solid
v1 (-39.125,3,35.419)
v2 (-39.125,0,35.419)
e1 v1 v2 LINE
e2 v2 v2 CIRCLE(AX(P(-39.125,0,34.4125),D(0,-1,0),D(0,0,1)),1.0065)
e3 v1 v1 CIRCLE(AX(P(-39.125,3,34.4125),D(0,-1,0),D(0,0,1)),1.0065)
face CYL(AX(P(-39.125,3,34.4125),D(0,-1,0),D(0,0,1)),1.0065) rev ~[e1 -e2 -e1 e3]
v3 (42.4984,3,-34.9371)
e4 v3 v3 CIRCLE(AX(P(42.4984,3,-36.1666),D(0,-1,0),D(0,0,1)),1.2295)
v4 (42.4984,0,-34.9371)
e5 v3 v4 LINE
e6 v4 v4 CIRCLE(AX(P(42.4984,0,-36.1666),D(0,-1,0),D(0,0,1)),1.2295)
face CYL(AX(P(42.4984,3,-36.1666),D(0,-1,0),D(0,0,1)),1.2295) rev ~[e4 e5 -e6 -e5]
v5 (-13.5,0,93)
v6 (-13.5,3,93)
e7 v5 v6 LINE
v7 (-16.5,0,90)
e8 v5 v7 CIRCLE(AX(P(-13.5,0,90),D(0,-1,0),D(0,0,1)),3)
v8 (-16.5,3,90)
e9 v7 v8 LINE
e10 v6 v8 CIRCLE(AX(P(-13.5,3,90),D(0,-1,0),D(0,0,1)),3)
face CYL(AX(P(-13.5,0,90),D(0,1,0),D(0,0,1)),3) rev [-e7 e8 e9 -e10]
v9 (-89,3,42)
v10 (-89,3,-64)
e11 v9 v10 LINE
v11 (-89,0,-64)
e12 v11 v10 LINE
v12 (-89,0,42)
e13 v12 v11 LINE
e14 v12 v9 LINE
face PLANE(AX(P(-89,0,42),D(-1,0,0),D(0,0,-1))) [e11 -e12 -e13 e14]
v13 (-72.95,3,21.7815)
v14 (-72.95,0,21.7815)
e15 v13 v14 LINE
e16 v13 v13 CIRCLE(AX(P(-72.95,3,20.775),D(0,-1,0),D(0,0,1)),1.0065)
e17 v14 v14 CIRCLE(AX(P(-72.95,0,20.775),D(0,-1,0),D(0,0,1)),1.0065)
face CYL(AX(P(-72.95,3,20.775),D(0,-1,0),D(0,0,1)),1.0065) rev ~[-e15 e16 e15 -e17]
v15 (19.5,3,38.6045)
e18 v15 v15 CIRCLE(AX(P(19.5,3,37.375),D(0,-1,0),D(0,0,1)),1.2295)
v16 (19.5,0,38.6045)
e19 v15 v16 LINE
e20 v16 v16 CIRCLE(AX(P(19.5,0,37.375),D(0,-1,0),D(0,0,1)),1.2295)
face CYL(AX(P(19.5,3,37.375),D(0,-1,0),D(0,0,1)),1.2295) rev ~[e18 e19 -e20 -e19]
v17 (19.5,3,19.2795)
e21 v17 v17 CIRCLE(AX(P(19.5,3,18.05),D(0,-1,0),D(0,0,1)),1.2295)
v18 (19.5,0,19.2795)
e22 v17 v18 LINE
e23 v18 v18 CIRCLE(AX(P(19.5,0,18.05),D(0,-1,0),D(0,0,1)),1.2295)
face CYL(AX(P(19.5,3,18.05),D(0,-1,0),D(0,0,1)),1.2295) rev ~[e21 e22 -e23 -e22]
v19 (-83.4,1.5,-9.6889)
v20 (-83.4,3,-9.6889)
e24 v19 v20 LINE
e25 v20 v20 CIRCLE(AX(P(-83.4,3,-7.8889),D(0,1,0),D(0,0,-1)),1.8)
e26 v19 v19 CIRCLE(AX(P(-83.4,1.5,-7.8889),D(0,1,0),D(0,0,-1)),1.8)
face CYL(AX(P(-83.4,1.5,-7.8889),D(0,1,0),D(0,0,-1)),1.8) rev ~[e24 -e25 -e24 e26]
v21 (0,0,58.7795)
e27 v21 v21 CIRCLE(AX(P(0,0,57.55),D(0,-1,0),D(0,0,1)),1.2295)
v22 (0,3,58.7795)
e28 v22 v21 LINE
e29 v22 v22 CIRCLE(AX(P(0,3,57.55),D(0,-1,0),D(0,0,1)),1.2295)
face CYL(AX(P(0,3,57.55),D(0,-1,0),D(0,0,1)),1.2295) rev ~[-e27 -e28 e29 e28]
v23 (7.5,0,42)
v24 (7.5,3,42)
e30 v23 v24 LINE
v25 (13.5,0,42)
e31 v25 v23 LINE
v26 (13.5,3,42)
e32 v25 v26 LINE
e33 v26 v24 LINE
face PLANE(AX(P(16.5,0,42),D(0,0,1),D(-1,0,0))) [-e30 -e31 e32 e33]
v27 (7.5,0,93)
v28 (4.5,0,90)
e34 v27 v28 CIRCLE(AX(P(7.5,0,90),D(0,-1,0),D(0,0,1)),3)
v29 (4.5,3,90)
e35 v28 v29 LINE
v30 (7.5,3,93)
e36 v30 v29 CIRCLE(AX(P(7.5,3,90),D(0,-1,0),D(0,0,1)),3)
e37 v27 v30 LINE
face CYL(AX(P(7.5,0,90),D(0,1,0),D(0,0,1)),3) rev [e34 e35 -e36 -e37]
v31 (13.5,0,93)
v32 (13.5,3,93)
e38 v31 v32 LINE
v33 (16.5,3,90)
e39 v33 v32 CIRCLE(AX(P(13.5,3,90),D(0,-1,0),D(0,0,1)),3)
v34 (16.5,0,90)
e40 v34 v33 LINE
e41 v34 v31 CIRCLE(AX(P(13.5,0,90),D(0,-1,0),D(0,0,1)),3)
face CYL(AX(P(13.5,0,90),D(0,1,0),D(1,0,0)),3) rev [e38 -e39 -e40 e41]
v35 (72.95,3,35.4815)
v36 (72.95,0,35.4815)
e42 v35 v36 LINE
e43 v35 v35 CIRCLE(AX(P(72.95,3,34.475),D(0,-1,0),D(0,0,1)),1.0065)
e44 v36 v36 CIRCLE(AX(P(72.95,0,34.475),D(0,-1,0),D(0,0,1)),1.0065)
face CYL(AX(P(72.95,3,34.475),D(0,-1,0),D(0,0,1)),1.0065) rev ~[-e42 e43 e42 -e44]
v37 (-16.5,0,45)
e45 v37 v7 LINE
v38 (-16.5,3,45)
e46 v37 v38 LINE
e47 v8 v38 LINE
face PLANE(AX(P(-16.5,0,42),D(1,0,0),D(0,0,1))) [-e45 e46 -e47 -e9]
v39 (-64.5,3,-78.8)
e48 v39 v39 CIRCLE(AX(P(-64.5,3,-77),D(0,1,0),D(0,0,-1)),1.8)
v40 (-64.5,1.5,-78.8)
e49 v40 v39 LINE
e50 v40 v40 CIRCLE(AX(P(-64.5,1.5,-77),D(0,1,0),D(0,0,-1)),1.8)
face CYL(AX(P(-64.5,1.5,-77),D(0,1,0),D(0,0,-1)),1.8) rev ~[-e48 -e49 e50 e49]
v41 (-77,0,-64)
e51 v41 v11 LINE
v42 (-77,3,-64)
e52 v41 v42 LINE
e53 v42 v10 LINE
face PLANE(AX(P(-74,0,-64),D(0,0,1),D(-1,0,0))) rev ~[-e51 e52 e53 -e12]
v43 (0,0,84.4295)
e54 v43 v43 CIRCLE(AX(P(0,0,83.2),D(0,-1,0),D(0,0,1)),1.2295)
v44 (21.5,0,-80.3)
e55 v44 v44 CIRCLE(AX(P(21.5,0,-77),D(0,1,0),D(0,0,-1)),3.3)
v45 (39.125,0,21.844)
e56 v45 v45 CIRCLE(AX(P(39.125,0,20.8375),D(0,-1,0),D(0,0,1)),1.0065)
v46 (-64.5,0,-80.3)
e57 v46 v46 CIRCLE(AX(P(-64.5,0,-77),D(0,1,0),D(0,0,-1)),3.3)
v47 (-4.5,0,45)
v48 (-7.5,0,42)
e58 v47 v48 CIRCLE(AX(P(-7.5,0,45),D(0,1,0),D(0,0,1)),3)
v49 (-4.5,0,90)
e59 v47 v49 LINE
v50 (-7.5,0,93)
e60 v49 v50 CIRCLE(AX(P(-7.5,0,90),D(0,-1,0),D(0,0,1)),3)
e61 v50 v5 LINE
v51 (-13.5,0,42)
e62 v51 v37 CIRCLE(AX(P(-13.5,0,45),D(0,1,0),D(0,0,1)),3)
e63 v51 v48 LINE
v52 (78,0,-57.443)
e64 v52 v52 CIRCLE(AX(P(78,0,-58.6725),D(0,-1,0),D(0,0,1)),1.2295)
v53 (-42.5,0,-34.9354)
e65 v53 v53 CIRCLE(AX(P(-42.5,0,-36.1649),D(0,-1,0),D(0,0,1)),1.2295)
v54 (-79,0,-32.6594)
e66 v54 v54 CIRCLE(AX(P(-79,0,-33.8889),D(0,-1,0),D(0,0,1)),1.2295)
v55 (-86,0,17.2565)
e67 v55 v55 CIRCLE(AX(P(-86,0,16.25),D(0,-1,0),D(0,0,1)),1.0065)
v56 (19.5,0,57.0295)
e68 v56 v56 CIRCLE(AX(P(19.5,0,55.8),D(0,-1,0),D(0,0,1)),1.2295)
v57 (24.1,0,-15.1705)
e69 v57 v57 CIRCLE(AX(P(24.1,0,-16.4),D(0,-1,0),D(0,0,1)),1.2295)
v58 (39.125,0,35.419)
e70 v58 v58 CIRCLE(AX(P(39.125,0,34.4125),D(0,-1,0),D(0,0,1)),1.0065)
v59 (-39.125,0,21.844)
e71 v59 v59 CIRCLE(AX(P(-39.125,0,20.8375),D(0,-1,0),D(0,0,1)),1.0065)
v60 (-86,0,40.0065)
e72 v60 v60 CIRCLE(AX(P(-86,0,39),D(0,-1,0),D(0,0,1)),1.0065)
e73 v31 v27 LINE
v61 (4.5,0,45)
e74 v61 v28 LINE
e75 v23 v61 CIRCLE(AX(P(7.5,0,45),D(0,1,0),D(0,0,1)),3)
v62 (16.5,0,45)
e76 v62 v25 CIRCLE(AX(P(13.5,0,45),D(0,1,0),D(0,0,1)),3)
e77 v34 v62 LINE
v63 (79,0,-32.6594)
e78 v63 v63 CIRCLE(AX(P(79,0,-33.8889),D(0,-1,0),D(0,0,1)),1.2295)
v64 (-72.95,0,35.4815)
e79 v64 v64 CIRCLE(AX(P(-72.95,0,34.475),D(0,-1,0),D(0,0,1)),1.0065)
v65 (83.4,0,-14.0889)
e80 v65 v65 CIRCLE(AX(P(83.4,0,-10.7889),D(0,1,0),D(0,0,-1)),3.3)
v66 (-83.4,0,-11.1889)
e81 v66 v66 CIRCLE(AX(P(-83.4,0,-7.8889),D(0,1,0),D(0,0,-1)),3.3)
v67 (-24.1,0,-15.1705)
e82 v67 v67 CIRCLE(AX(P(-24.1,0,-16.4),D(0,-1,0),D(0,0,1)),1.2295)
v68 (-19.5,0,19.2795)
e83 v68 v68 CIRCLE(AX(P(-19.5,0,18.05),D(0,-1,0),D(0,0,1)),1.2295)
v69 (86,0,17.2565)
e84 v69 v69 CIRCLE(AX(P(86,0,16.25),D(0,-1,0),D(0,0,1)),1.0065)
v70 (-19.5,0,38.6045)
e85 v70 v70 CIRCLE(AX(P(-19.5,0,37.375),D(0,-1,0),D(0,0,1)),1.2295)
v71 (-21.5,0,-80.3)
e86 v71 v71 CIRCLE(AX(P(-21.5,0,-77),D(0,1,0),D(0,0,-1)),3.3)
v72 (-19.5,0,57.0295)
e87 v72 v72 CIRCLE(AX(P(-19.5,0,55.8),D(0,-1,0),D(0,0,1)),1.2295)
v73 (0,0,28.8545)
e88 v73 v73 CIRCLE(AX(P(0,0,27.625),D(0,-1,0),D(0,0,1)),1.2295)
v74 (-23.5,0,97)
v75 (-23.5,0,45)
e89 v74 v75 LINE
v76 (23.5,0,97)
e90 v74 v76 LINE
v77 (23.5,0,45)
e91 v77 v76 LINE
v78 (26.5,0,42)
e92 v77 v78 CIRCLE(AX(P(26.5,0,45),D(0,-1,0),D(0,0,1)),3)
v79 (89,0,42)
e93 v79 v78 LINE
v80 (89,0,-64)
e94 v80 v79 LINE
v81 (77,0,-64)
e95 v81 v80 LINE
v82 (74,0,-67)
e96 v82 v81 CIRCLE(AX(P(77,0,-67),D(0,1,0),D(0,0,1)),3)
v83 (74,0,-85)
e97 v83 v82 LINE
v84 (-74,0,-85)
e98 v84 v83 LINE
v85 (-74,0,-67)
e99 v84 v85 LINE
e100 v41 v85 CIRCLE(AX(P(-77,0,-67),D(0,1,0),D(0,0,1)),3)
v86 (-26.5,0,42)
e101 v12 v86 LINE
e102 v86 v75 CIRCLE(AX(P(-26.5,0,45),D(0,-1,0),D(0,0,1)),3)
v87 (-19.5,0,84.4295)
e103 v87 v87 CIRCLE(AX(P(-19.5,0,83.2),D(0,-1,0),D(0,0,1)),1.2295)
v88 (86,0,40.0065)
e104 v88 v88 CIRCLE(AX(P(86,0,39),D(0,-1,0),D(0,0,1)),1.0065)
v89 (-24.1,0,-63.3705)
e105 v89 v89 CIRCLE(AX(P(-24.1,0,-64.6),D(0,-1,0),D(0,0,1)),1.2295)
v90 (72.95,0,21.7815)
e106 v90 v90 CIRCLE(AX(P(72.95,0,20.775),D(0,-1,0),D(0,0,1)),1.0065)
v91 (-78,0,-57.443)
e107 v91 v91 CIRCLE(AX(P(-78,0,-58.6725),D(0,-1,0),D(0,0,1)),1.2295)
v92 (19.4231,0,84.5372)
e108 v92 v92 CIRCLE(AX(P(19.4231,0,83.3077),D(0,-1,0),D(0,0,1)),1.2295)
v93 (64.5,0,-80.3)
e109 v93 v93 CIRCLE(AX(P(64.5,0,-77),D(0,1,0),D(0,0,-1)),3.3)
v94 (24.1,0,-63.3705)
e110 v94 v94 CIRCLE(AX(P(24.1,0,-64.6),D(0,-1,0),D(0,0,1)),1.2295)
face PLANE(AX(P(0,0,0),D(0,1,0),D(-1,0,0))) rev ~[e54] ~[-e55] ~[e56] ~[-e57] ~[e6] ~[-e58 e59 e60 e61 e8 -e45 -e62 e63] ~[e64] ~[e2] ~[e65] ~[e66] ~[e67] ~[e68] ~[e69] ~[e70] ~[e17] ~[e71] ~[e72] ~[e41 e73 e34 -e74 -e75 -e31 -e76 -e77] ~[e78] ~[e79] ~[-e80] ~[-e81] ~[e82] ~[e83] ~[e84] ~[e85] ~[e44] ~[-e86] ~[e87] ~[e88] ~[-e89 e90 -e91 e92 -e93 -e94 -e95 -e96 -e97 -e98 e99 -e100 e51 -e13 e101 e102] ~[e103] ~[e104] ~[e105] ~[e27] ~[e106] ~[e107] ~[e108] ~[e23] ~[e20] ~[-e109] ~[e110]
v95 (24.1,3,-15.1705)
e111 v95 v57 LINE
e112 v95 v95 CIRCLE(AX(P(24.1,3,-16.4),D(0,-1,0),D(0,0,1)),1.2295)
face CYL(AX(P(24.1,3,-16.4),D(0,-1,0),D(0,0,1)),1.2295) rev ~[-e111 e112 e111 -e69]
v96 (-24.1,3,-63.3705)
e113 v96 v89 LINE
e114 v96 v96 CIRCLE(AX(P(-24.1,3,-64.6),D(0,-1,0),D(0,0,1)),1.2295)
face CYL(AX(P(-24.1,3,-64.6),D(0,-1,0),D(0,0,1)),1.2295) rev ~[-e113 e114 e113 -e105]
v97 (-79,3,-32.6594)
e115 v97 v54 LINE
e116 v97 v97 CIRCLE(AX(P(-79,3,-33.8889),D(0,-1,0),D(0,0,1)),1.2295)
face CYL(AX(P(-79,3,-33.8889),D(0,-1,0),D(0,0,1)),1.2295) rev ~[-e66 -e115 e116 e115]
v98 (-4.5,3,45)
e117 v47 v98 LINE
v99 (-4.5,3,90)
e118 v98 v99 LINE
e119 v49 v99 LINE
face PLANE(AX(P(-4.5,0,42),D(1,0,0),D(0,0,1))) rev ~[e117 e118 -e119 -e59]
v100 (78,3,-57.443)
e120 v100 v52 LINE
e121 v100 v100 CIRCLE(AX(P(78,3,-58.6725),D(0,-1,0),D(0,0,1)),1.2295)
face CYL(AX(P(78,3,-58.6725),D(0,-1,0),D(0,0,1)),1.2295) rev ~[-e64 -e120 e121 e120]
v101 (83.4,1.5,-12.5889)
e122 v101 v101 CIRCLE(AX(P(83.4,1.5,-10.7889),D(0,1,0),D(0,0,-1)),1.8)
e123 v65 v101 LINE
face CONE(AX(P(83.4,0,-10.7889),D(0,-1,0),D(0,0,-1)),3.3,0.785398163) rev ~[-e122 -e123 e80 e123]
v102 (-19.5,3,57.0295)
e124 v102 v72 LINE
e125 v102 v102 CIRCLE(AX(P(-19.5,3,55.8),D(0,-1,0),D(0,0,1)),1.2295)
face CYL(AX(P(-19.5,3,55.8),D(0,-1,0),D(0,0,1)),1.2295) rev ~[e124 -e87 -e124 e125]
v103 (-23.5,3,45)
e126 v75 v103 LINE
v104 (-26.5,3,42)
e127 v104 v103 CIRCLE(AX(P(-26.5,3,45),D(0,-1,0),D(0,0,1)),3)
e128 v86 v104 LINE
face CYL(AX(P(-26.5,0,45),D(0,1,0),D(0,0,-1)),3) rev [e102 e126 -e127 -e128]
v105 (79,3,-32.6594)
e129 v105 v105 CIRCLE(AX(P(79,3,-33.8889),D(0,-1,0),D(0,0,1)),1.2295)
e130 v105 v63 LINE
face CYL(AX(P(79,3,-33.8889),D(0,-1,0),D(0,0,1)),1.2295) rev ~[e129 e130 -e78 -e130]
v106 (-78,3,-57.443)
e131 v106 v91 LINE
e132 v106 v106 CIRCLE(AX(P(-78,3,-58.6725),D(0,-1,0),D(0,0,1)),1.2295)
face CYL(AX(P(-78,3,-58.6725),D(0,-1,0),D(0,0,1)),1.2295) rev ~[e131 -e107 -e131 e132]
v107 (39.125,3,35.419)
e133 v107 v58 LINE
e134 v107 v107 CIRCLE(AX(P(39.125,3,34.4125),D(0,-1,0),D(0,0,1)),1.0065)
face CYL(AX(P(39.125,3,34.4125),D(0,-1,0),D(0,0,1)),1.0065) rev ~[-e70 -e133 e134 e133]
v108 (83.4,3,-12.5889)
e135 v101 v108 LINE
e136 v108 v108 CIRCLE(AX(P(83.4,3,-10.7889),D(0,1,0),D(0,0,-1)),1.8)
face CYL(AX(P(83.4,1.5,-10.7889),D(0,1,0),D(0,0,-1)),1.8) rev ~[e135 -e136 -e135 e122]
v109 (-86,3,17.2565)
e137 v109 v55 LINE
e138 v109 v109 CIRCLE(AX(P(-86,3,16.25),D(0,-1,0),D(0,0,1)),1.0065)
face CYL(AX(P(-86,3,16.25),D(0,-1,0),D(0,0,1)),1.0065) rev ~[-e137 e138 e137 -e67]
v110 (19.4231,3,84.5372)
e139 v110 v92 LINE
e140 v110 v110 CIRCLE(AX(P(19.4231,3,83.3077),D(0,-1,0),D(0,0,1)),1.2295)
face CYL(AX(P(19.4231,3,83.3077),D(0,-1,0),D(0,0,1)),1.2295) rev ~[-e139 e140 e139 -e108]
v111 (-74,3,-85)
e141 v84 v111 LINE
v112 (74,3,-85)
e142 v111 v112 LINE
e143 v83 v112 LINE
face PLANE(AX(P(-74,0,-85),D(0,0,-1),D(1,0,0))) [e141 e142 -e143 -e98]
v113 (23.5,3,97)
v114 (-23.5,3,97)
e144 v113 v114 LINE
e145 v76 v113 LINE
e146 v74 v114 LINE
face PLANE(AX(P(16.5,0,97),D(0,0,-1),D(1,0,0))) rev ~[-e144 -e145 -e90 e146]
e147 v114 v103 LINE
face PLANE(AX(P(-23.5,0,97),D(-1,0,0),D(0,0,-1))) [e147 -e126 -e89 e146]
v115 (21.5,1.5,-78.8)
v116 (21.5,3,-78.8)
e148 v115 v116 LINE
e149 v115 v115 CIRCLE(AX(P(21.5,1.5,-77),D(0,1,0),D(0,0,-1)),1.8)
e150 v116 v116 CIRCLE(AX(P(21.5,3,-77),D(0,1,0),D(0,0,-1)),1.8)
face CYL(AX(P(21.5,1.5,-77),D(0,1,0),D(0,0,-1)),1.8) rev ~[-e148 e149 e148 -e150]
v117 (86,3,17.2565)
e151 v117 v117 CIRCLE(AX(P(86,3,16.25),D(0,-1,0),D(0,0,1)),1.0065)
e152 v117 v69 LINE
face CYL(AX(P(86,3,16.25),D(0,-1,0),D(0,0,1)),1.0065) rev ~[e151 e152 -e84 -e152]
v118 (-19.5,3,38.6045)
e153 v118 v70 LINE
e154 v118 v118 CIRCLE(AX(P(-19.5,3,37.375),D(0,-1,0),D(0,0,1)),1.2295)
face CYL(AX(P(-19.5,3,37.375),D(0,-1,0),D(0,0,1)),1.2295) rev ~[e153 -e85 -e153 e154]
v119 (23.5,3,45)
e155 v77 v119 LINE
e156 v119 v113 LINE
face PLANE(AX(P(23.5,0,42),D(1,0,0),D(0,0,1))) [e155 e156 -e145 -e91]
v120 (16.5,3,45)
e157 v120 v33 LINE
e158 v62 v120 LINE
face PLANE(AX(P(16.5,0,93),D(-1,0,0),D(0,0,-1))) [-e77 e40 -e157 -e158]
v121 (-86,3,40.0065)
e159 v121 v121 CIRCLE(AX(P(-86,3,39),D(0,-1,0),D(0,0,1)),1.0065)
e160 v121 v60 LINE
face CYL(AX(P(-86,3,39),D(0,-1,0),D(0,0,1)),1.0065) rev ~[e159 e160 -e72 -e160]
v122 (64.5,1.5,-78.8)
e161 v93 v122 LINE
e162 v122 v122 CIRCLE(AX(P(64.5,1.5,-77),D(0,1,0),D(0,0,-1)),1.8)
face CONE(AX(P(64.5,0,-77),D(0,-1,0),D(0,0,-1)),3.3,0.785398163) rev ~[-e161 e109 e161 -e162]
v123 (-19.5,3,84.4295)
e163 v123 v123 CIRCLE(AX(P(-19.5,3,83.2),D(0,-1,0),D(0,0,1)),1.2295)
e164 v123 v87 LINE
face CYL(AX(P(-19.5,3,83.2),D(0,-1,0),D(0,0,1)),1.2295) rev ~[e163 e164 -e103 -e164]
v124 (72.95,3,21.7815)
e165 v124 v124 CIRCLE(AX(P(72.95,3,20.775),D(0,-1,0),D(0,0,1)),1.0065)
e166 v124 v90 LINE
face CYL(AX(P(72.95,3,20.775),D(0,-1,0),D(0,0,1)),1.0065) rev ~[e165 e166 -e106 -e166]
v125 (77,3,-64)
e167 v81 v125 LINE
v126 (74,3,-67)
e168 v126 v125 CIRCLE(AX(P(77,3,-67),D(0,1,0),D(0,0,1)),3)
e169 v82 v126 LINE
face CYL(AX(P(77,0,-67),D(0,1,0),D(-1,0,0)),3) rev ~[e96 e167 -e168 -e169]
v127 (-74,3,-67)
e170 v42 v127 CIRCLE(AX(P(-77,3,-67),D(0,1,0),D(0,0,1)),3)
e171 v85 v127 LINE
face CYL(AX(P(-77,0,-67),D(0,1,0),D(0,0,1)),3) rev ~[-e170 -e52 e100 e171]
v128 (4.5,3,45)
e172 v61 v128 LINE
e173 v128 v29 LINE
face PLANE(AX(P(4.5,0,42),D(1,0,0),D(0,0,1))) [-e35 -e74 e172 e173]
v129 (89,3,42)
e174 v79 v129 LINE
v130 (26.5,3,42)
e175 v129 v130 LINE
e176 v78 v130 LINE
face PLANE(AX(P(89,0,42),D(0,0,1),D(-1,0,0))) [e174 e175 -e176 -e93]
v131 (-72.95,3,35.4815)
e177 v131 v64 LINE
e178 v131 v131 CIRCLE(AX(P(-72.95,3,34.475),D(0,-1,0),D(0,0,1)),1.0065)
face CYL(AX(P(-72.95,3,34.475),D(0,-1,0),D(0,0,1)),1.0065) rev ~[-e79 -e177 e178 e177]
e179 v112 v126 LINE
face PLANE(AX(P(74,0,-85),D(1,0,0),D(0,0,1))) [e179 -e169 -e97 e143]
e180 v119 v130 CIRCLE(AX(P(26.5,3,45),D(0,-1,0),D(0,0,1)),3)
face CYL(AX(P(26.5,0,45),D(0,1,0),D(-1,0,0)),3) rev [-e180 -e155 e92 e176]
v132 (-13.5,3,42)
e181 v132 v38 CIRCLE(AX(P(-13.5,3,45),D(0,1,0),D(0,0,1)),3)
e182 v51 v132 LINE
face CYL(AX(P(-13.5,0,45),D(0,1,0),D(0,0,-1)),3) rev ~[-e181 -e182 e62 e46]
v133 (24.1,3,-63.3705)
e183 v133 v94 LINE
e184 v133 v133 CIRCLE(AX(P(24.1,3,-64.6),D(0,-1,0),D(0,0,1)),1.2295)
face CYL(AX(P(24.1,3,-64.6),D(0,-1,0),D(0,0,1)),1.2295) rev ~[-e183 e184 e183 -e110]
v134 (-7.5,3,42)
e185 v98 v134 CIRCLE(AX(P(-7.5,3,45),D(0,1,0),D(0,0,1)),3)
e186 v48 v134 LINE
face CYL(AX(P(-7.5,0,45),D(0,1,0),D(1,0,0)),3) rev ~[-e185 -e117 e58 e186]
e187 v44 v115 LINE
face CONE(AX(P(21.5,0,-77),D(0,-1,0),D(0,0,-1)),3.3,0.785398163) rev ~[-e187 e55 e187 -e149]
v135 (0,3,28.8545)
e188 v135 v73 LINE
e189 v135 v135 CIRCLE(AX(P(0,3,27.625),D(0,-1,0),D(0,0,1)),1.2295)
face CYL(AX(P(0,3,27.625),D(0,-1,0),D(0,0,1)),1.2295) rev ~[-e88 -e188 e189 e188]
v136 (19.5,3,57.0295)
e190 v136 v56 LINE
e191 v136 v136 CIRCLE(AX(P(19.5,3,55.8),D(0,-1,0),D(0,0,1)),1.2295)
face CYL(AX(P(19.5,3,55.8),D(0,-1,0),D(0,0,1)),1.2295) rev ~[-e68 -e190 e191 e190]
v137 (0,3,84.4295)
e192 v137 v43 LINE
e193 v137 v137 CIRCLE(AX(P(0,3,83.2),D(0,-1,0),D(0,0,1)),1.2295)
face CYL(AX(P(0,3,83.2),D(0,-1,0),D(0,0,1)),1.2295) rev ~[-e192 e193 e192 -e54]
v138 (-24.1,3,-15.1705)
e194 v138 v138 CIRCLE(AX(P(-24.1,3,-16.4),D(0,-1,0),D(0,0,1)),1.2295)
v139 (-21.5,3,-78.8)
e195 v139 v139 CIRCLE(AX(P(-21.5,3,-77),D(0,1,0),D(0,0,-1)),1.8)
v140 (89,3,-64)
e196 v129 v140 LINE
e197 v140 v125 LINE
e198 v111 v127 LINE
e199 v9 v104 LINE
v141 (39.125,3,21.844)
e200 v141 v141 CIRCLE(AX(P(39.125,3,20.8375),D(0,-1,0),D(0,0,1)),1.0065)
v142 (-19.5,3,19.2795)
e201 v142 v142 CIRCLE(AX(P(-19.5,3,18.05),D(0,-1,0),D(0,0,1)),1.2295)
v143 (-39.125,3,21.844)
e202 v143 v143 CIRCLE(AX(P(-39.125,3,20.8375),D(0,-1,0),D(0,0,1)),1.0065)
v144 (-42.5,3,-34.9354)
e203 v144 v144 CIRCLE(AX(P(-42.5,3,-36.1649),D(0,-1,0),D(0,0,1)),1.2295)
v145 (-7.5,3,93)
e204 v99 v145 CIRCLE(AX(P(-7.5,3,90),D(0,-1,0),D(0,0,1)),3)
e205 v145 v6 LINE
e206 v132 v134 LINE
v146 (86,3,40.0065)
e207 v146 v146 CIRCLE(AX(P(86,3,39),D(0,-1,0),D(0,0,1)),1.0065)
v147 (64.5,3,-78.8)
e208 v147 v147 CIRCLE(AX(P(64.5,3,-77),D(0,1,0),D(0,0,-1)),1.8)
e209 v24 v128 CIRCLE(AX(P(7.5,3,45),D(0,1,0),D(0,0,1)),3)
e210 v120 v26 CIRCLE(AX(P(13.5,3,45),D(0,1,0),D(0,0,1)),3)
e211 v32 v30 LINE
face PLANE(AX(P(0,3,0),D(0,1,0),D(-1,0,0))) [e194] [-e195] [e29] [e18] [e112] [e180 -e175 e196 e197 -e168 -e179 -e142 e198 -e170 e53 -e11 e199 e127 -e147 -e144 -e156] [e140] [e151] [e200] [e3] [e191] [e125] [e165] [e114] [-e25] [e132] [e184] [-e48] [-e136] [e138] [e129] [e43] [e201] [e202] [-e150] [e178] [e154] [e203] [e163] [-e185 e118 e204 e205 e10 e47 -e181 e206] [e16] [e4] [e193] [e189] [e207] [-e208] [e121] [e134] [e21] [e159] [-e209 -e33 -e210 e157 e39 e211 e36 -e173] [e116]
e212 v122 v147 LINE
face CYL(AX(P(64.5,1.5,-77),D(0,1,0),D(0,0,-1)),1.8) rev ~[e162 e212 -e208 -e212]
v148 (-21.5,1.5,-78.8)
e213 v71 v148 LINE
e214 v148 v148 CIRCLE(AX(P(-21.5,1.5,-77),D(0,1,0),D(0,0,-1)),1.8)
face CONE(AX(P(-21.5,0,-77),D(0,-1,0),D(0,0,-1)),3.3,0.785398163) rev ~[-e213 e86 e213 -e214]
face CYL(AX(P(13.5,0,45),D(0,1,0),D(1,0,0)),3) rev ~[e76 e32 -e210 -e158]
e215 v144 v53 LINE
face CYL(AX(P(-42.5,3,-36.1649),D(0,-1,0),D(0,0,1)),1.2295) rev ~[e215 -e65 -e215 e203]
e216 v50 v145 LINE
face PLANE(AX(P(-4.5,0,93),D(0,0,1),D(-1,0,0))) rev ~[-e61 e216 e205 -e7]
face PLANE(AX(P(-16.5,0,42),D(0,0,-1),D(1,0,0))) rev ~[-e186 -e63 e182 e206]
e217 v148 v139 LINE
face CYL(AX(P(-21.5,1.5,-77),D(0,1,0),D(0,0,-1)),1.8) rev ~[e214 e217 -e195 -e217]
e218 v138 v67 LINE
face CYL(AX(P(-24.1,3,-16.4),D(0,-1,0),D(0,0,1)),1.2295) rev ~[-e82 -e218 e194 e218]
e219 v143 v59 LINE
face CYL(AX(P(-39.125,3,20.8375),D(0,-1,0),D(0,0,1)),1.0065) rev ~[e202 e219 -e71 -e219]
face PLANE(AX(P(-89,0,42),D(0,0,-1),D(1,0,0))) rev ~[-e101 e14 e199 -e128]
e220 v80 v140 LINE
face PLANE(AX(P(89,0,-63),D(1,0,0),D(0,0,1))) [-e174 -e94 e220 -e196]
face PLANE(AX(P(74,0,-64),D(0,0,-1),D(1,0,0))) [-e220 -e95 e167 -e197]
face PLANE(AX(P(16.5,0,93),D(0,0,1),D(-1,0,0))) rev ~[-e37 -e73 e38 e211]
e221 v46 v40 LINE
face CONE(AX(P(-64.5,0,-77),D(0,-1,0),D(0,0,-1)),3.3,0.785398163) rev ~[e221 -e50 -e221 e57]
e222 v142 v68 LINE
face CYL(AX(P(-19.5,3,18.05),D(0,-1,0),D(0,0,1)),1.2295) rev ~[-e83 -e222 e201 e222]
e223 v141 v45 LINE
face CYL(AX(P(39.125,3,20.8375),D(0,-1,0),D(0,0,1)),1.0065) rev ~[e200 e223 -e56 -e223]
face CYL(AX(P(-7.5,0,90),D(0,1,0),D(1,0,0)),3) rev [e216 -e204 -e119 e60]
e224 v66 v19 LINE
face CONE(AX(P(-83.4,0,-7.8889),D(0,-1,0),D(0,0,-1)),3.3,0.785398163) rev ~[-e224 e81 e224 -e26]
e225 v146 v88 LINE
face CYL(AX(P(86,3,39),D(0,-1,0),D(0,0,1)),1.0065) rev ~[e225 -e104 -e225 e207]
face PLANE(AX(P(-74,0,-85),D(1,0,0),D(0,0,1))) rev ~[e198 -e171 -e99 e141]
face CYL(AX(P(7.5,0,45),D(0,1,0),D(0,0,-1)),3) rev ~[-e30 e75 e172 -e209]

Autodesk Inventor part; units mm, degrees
ref_plane "YZ Plane" through (0, 0, 0) normal (1, 0, 0) x (0, 1, 0)
ref_plane "XZ Plane" through (0, 0, 0) normal (0, 1, 0) x (-1, 0, 0)
ref_plane "XY Plane" through (0, 0, 0) normal (0, 0, 1) x (1, 0, 0)
sketch "Sketch2" plane through (0, 0, 0) normal (0, 1, 0) x (-1, 0, 0)
  line L0 (-89, 99) -> (89, 99)
  line L1 (89, 99) -> (89, -99)
  line L2 (89, -99) -> (-89, -99)
  line L3 (-89, -99) -> (-89, 99)
  line L4 (-89, 99) -> (89, -99) construction
  line L5 (89, 99) -> (-89, -99) construction
  line L6 (-89, 99) -> (89, 99)
  line L7 (89, 99) -> (89, -85)
  line L8 (89, -85) -> (-89, -85)
  line L9 (-89, -85) -> (-89, 99)
  line L10 (-4.5, 99) -> (-89, 99)
  line L11 (-89, 99) -> (-89, 42)
  line L12 (-89, 42) -> (-4.5, 42)
  line L13 (-4.5, 42) -> (-4.5, 99)
  line L14 (4.5, 99) -> (89, 99)
  line L15 (89, 99) -> (89, 42)
  line L16 (89, 42) -> (4.5, 42)
  line L17 (4.5, 42) -> (4.5, 99)
  line L18 (22.5, 77.5) -> (22.5, 66.5) projected
  line L19 (16.5, 66.5) -> (16.5, 77.5) projected
  line L20 (-22.5, 66.5) -> (-22.5, 77.5) projected
  line L21 (-16.5, 77.5) -> (-16.5, 66.5) projected
  line L22 (-23.5, 99) -> (-16.5, 99)
  line L23 (-16.5, 99) -> (-16.5, 42)
  line L24 (-16.5, 42) -> (-23.5, 42)
  line L25 (-23.5, 42) -> (-23.5, 99)
  line L26 (16.5, 99) -> (23.5, 99)
  line L27 (23.5, 99) -> (23.5, 42)
  line L28 (23.5, 42) -> (16.5, 42)
  line L29 (16.5, 42) -> (16.5, 99)
  line L30 (-89, 99) -> (89, 99)
  line L31 (89, 99) -> (89, 97)
  line L32 (89, 97) -> (-89, 97)
  line L33 (-89, 97) -> (-89, 99)
  line L34 (89, -85) -> (74, -85)
  line L35 (74, -85) -> (74, -64)
  line L36 (74, -64) -> (89, -64)
  line L37 (89, -64) -> (89, -85)
  line L38 (-89, -85) -> (-74, -85)
  line L39 (-74, -85) -> (-74, -64)
  line L40 (-74, -64) -> (-89, -64)
  line L41 (-89, -64) -> (-89, -85)
  line L42 (16.5, 97) -> (-16.5, 97)
  line L43 (-16.5, 97) -> (-16.5, 93)
  line L44 (-16.5, 93) -> (16.5, 93)
  line L45 (16.5, 93) -> (16.5, 97)
  line L46 (-84.4, -75) -> (-84.4, -71.5) projected
  line L47 (-84.4, -71.5) -> (-87, -71.5) projected
  line L48 (-87, -71.5) -> (-87, -75) projected
  line L49 (-87, -75) -> (-84.4, -75) projected
  line L50 (-79.6, -75) -> (-77, -75) projected
  line L51 (-77, -75) -> (-77, -71.5) projected
  line L52 (-77, -71.5) -> (-79.6, -71.5) projected
  line L53 (-79.6, -71.5) -> (-79.6, -75) projected
  line L54 (-75, -78) -> (-89, -78) projected
  line L55 (-89, -78) -> (-89, -63) projected
  line L56 (-89, -63) -> (-75, -63) projected
  line L57 (-75, -63) -> (-75, -78) projected
  circle A0 centre (-80.45, -67.25) radius 1.25 projected
  point P0 (0, 0)
  point P1 (4.5, 99)
  point P2 (-4.5, 99)
  point P3 (-89, 42)
  point P4 (89, 42)
  point P5 (4.5, 97)
  point P6 (-4.5, 97)
  point P7 (-16.5, 97)
  point P8 (-23.5, 97)
  point P9 (23.5, 97)
  point P10 (16.5, 98)
  point P11 (-4.5, 93)
  point P12 (4.5, 93)
  point P13 (16.5, 93)
  dimension "d8" = 178
  dimension "d9" = 198
  dimension "d10" = 14
  dimension "d11" = 84.5
  dimension "d13" = 84.5
  dimension "d17" = 9
  dimension "d18" = 2
  dimension "d19" = 15
  dimension "d20" = 21
  dimension "d21" = 15
  dimension "d22" = 21
  dimension "d75" = 55
  dimension "d76" = 55
  dimension "d77" = 7
  dimension "d78" = 7
  dimension "d79" = 4
extrude "Extrusion2" add sketch "Sketch2" along normal blind 3 contours L32 L23 L21 L12 L25 | L12 L13 L44 L17 L16 L1 L36 L35 L8 L39 L40 L57 L56 L3 | L32 L13 L44 L23 | L56 L57 L40 L3 | L32 L17 L44 L13 | L32 L29 L44 L17 | L32 L27 L16 L29 L19
fillet "Fillet5" radius 3 12 edges at (-16.5, 1.5, 42) (-4.5, 1.5, 42) (-23.5, 1.5, 42) (16.5, 1.5, 42) (-16.5, 1.5, 93) (-4.5, 1.5, 93) (4.5, 1.5, 93) (16.5, 1.5, 93) (4.5, 1.5, 42) (23.5, 1.5, 42) (74, 1.5, -64) (-74, 1.5, -64)
sketch "Sketch7" plane through (0, 3, 0) normal (0, 1, 0) x (1, 0, 0)
  circle A0 centre (78, 58.6725) radius 1.8 projected
  circle A1 centre (79, 33.8889) radius 1.8 projected
  circle A2 centre (42.4984, 36.1666) radius 1.8 projected
  circle A3 centre (24.1, 64.6) radius 1.6 projected
  circle A4 centre (24.1, 16.4) radius 1.6 projected
  circle A5 centre (-24.1, 16.4) radius 1.6 projected
  circle A6 centre (-24.1, 64.6) radius 1.6 projected
  circle A7 centre (-42.5, 36.1649) radius 1.8 projected
  circle A8 centre (-79, 33.8889) radius 1.8 projected
  circle A9 centre (-78, 58.6725) radius 1.8 projected
  circle A10 centre (19.5, -18.05) radius 1.8 projected
  circle A11 centre (19.5, -37.375) radius 1.8 projected
  circle A12 centre (19.5, -55.8) radius 1.8 projected
  circle A13 centre (19.4231, -83.3077) radius 1.8 projected
  circle A14 centre (0, -83.2) radius 1.8 projected
  circle A15 centre (-19.4231, -83.3077) radius 1.8 projected
  circle A16 centre (-19.5, -55.8) radius 1.8 projected
  circle A17 centre (0, -57.55) radius 1.8 projected
  circle A18 centre (0, -27.625) radius 1.8 projected
  circle A19 centre (-19.5, -37.375) radius 1.8 projected
  circle A20 centre (-19.5, -18.05) radius 1.8 projected
  point P0 (0, 0)
  point P1 (-19.5, -83.2)
hole "Hole3" at (19.4231, 3, 83.3077) at (0, 3, 83.2) at (-19.5, 3, 83.2) at (19.5, 3, 55.8) at (0, 3, 57.55) at (-19.5, 3, 55.8) at (-19.5, 3, 37.375) at (-19.5, 3, 18.05) at (0, 3, 27.625) at (19.5, 3, 37.375) at (19.5, 3, 18.05) at (79, 3, -33.8889) at (78, 3, -58.6725) at (42.4984, 3, -36.1666) at (24.1, 3, -16.4) at (-24.1, 3, -16.4) at (-24.1, 3, -64.6) at (24.1, 3, -64.6) at (-42.5, 3, -36.1649) at (-78, 3, -58.6725) at (-79, 3, -33.8889) direction (0, -1, 0) diameter 2.459 end through all thread size "M3x0.5" class "6H" standard "ISO Metric profile"
sketch "Sketch8" plane through (0, 3, 0) normal (0, 1, 0) x (1, 0, 0)
  circle A0 centre (72.95, -34.475) radius 1.45 projected
  circle A1 centre (72.95, -20.775) radius 1.45 projected
  circle A2 centre (39.125, -20.8375) radius 1.55 projected
  circle A3 centre (39.125, -34.4125) radius 1.55 projected
  circle A4 centre (-39.125, -20.8375) radius 1.55 projected
  circle A5 centre (-39.125, -34.4125) radius 1.55 projected
  circle A6 centre (-72.95, -34.475) radius 1.45 projected
  circle A7 centre (-72.95, -20.775) radius 1.45 projected
  circle A8 centre (86, -16.25) radius 2.3 projected
  circle A9 centre (86, -39) radius 2.3 projected
  circle A10 centre (86, 32.8889) radius 2.3 projected
  line L0 (89, -42) -> (83, -42) projected
  line L1 (89, 35.8889) -> (89, -42) projected
  line L2 (89, 35.8889) -> (83, 35.8889) projected
  line L3 (83, 29.8889) -> (83, 35.8889) projected
  line L4 (83, 29.8889) -> (87.4, 29.8889) projected
  line L5 (87.4, 29.8889) -> (87.4, 14.7889) projected
  line L6 (87.4, 14.7889) -> (79.4, 14.7889) projected
  line L7 (79.4, 2.7889) -> (79.4, 14.7889) projected
  line L8 (86, 2.7889) -> (79.4, 2.7889) projected
  line L9 (86, -13.25) -> (86, 2.7889) projected
  line L10 (86, -13.25) -> (83, -13.25) projected
  line L11 (83, -13.25) -> (83, -19.25) projected
  line L12 (83, -19.25) -> (86, -19.25) projected
  line L13 (86, -36) -> (86, -19.25) projected
  line L14 (86, -36) -> (83, -36) projected
  line L15 (83, -36) -> (83, -42) projected
  circle A11 centre (83.4, 10.7889) radius 2.6 projected
  circle A12 centre (-86, -39) radius 2.3 projected
  circle A13 centre (-86, -16.25) radius 2.3 projected
  line L16 (-86, -13.25) -> (-86, -0.1111) projected
  line L17 (-79.4, -0.1111) -> (-86, -0.1111) projected
  line L18 (-79.4, 11.8889) -> (-79.4, -0.1111) projected
  line L19 (-86, 11.8889) -> (-79.4, 11.8889) projected
  line L20 (-86, 11.8889) -> (-86, 29.8889) projected
  line L21 (-86, 29.8889) -> (-83, 29.8889) projected
  line L22 (-83, 29.8889) -> (-83, 35.8889) projected
  line L23 (-89, 35.8889) -> (-83, 35.8889) projected
  line L24 (-89, 35.8889) -> (-89, -42) projected
  line L25 (-89, -42) -> (-83, -42) projected
  line L26 (-83, -42) -> (-83, -36) projected
  line L27 (-83, -36) -> (-86, -36) projected
  line L28 (-86, -36) -> (-86, -19.25) projected
  line L29 (-86, -19.25) -> (-83, -19.25) projected
  line L30 (-83, -19.25) -> (-83, -13.25) projected
  line L31 (-83, -13.25) -> (-86, -13.25) projected
  circle A14 centre (-86, 32.8889) radius 2.3 projected
  circle A15 centre (-83.4, 7.8889) radius 2.6 projected
  line L32 (72.95, -34.475) -> (39.125, -12.8375)
  line L33 (72.95, -12.775) -> (39.125, -34.4125)
  line L34 (-39.125, -34.4125) -> (-72.95, -12.775)
  line L35 (-39.125, -12.8375) -> (-72.95, -34.4125)
  point P0 (0, 0)
  point P1 (56.0375, -23.5937)
  point P2 (-56.0375, -23.625)
  dimension "d90" = 8
  dimension "d91" = 8
  dimension "d92" = 8
  dimension "d93" = 8
hole "Hole4" at (72.95, 3, 34.475) at (72.95, 3, 20.775) at (39.125, 3, 20.8375) at (39.125, 3, 34.4125) at (86, 3, 39) at (86, 3, 16.25) at (-86, 3, 39) at (-86, 3, 16.25) at (-72.95, 3, 20.775) at (-72.95, 3, 34.475) at (-39.125, 3, 34.4125) at (-39.125, 3, 20.8375) direction (0, -1, 0) diameter 2.013 end through all thread size "M2.5x0.45" class "6H" standard "ISO Metric profile"
sketch "Sketch9" plane through (0, 0, 0) normal (0, -1, 0) x (1, 0, 0)
  circle A0 centre (64.5, -77) radius 1.2295 projected
  circle A1 centre (21.5, -77) radius 1.2295 projected
  circle A2 centre (-21.5, -77) radius 1.2295 projected
  circle A3 centre (-64.5, -77) radius 1.2295 projected
  circle A4 centre (-83.4, -7.8889) radius 2.6 projected
  circle A5 centre (83.4, -10.7889) radius 2.6 projected
  point P0 (0, 0)
hole "Hole5" at (-83.4, 0, -7.8889) at (83.4, 0, -10.7889) at (64.5, 0, -77) at (21.5, 0, -77) at (-21.5, 0, -77) at (-64.5, 0, -77) direction (0, 1, 0) diameter 3.6 end through all countersink diameter 6.6 countersink angle 90 clearance for "Countersunk Flat Head Screw ISO 2009/7046" size "M3" standard "ISO"
sketch "Sketch11" plane through (0, 0, 0) normal (0, -1, 0) x (1, 0, 0)
  circle A0 centre (-21.5, -77) radius 3.3 projected
  circle A1 centre (64.5, -77) radius 3.3 projected
  circle A2 centre (-83.4, -7.8889) radius 3.3 projected
  circle A3 centre (83.4, -10.7889) radius 3.3 projected
  circle A4 centre (21.5, -77) radius 3.3 projected
  circle A5 centre (-64.5, -77) radius 3.3 projected
  circle A6 centre (-39.125, 34.4125) radius 1.0065 projected
  circle A7 centre (-72.95, 20.775) radius 1.0065 projected
  circle A8 centre (-86, 39) radius 1.0065 projected
  circle A9 centre (86, 39) radius 1.0065 projected
  circle A10 centre (39.125, 20.8375) radius 1.0065 projected
  circle A11 centre (72.95, 34.475) radius 1.0065 projected
  circle A12 centre (72.95, 20.775) radius 1.0065 projected
  circle A13 centre (39.125, 34.4125) radius 1.0065 projected
  circle A14 centre (86, 16.25) radius 1.0065 projected
  circle A15 centre (-86, 16.25) radius 1.0065 projected
  circle A16 centre (-72.95, 34.475) radius 1.0065 projected
  circle A17 centre (-39.125, 20.8375) radius 1.0065 projected
  circle A18 centre (-78, -58.6725) radius 1.2295 projected
  circle A19 centre (24.1, -64.6) radius 1.2295 projected
  circle A20 centre (-24.1, -16.4) radius 1.2295 projected
  circle A21 centre (42.4984, -36.1666) radius 1.2295 projected
  circle A22 centre (79, -33.8889) radius 1.2295 projected
  circle A23 centre (19.5, 37.375) radius 1.2295 projected
  circle A24 centre (-19.5, 18.05) radius 1.2295 projected
  circle A25 centre (-19.5, 55.8) radius 1.2295 projected
  circle A26 centre (19.5, 55.8) radius 1.2295 projected
  circle A27 centre (0, 83.2) radius 1.2295 projected
  circle A28 centre (19.4231, 83.3077) radius 1.2295 projected
  circle A29 centre (-19.5, 83.2) radius 1.2295 projected
  circle A30 centre (0, 57.55) radius 1.2295 projected
  circle A31 centre (-19.5, 37.375) radius 1.2295 projected
  circle A32 centre (0, 27.625) radius 1.2295 projected
  circle A33 centre (19.5, 18.05) radius 1.2295 projected
  circle A34 centre (78, -58.6725) radius 1.2295 projected
  circle A35 centre (24.1, -16.4) radius 1.2295 projected
  circle A36 centre (-24.1, -64.6) radius 1.2295 projected
  circle A37 centre (-42.5, -36.1649) radius 1.2295 projected
  circle A38 centre (-79, -33.8889) radius 1.2295 projected
  arc A39 (-13.5, 93) -> (-16.5, 90) centre (-13.5, 90) ccw projected
  line L0 (-7.5, 93) -> (-13.5, 93) projected
  arc A40 (-4.5, 90) -> (-7.5, 93) centre (-7.5, 90) ccw projected
  line L1 (-4.5, 45) -> (-4.5, 90) projected
  arc A41 (-7.5, 42) -> (-4.5, 45) centre (-7.5, 45) ccw projected
  line L2 (-13.5, 42) -> (-7.5, 42) projected
  arc A42 (-16.5, 45) -> (-13.5, 42) centre (-13.5, 45) ccw projected
  line L3 (-16.5, 90) -> (-16.5, 45) projected
  arc A43 (16.5, 90) -> (13.5, 93) centre (13.5, 90) ccw projected
  line L4 (16.5, 45) -> (16.5, 90) projected
  arc A44 (13.5, 42) -> (16.5, 45) centre (13.5, 45) ccw projected
  line L5 (7.5, 42) -> (13.5, 42) projected
  arc A45 (4.5, 45) -> (7.5, 42) centre (7.5, 45) ccw projected
  line L6 (4.5, 90) -> (4.5, 45) projected
  arc A46 (7.5, 93) -> (4.5, 90) centre (7.5, 90) ccw projected
  line L7 (13.5, 93) -> (7.5, 93) projected
  line L8 (-23.5, 97) -> (23.5, 97) projected
  line L9 (-23.5, 45) -> (-23.5, 97) projected
  arc A47 (-26.5, 42) -> (-23.5, 45) centre (-26.5, 45) ccw projected
  line L10 (-89, 42) -> (-26.5, 42) projected
  line L11 (-89, -64) -> (-89, 42) projected
  line L12 (-77, -64) -> (-89, -64) projected
  arc A48 (-74, -67) -> (-77, -64) centre (-77, -67) ccw projected
  line L13 (-74, -85) -> (-74, -67) projected
  line L14 (74, -85) -> (-74, -85) projected
  line L15 (74, -67) -> (74, -85) projected
  arc A49 (77, -64) -> (74, -67) centre (77, -67) ccw projected
  line L16 (89, -64) -> (77, -64) projected
  line L17 (89, 42) -> (89, -64) projected
  line L18 (26.5, 42) -> (89, 42) projected
  arc A50 (23.5, 45) -> (26.5, 42) centre (26.5, 45) ccw projected
  line L19 (23.5, 97) -> (23.5, 45) projected
  circle A51 centre (-42.5, -36.1649) radius 1.8 projected
  line L20 (-86, 0.1111) -> (-86, 42) projected
  line L21 (-89, 42) -> (-86, 42) projected
  line L22 (-89, 42) -> (-89, 38.75) projected
  line L23 (-89, 38.75) -> (-89, 13.5) projected
  line L24 (-89, 13.5) -> (-89, -81) projected
  line L25 (-89, -81) -> (-83, -81) projected
  line L26 (-83, -81) -> (-83, -75) projected
  line L27 (-83, -75) -> (-73, -75) projected
  line L28 (-73, -75) -> (-73, -53.3451) projected
  line L29 (-73, -53.3451) -> (-67, -53.3451) projected
  line L30 (-67, -53.3451) -> (-67, -42.9318) projected
  line L31 (-76.801, -42.9318) -> (-67, -42.9318) projected
  line L32 (-75, -34.8889) -> (-75, -29.8889) projected
  line L33 (-86, -29.8889) -> (-75, -29.8889) projected
  line L34 (-86, -29.8889) -> (-86, -11.8889) projected
  line L35 (-79.4, -11.8889) -> (-86, -11.8889) projected
  line L36 (-79.4, 0.1111) -> (-79.4, -11.8889) projected
  line L37 (-86, 0.1111) -> (-79.4, 0.1111) projected
  circle A52 centre (-83.5, -70.5) radius 1.75 projected
  circle A53 centre (-79, -33.8889) radius 1.8 projected
  circle A54 centre (-83.4, -7.8889) radius 2.6 projected
  circle A55 centre (-78, -58.6725) radius 1.8 projected
  circle A56 centre (78, -58.6725) radius 1.8 projected
  circle A57 centre (79, -33.8889) radius 1.8 projected
  circle A58 centre (83.4, -10.7889) radius 2.6 projected
  circle A59 centre (80.5, -70.5) radius 1.75 projected
  circle A60 centre (42.4984, -36.1666) radius 1.8 projected
  spline S0 degree 2 poles (89, 38.051) (88.5208, 39.25) (89, 40.449) knots 0 0 0 0.244949 0.244949 0.244949 weights 1 1.090909 1 projected
  line L38 (89, 42) -> (89, 40.449) projected
  line L39 (89, 42) -> (86, 42) projected
  line L40 (86, -2.7889) -> (86, 42) projected
  line L41 (79.4, -2.7889) -> (86, -2.7889) projected
  line L42 (79.4, -14.7889) -> (79.4, -2.7889) projected
  line L43 (86, -14.7889) -> (79.4, -14.7889) projected
  line L44 (86, -16.7889) -> (86, -14.7889) projected
  line L45 (86, -27.8889) -> (86, -16.7889) projected
  line L46 (86, -29.8889) -> (86, -27.8889) projected
  ellipse E0 centre (76.799, -27.2986) end of major axis (76.7969, -11.6653) minor radius 1.851 (76.801, -42.9318) -> (77.5308, -41.6649) ccw projected
  line L47 (76.801, -42.9318) -> (67, -42.9318) projected
  line L48 (67, -53.3451) -> (67, -42.9318) projected
  line L49 (73, -53.3451) -> (67, -53.3451) projected
  line L50 (73, -75) -> (73, -53.3451) projected
  line L51 (83, -75) -> (73, -75) projected
  line L52 (83, -81) -> (83, -75) projected
  line L53 (89, -81) -> (83, -81) projected
  line L54 (89, 14.801) -> (89, -81) projected
  spline S1 degree 2 poles (89, 14.801) (88.5208, 16) (89, 17.199) knots 0 0 0 0.244949 0.244949 0.244949 weights 1 1.090909 1 projected
  line L55 (89, 38.051) -> (89, 17.199) projected
  line L56 (27.5, -68) -> (27.5, -13) projected
  line L57 (27.5, -13) -> (-27.5, -13) projected
  line L58 (-27.5, -13) -> (-27.5, -68) projected
  line L59 (-27.5, -68) -> (27.5, -68) projected
  circle A61 centre (24.1, -64.6) radius 1.6 projected
  circle A62 centre (24.1, -16.4) radius 1.6 projected
  circle A63 centre (-24.1, -64.6) radius 1.6 projected
  circle A64 centre (-24.1, -16.4) radius 1.6 projected
  circle A65 centre (21.5, -77) radius 1.2295 projected
  circle A66 centre (-64.5, -77) radius 1.2295 projected
  circle A67 centre (-21.5, -77) radius 1.2295 projected
  circle A68 centre (64.5, -77) radius 1.2295 projected
  line L60 (-72, -70) -> (-72, -79) projected
  arc A69 (-74, -81) -> (-72, -79) centre (-74, -79) ccw projected
  line L61 (-74, -81) -> (-89, -81) projected
  line L62 (-89, -81) -> (-89, -85) projected
  line L63 (-89, -85) -> (89, -85) projected
  line L64 (89, -81) -> (89, -85) projected
  line L65 (89, -81) -> (74, -81) projected
  arc A70 (72, -79) -> (74, -81) centre (74, -79) ccw projected
  line L66 (72, -79) -> (72, -70) projected
  line L67 (57, -70) -> (72, -70) projected
  line L68 (57, -70) -> (57, -79) projected
  arc A71 (55, -81) -> (57, -79) centre (55, -79) ccw projected
  line L69 (55, -81) -> (31, -81) projected
  arc A72 (29, -79) -> (31, -81) centre (31, -79) ccw projected
  line L70 (29, -79) -> (29, -70) projected
  line L71 (14, -70) -> (29, -70) projected
  line L72 (14, -70) -> (14, -79) projected
  arc A73 (12, -81) -> (14, -79) centre (12, -79) ccw projected
  line L73 (12, -81) -> (-12, -81) projected
  arc A74 (-14, -79) -> (-12, -81) centre (-12, -79) ccw projected
  line L74 (-14, -79) -> (-14, -70) projected
  line L75 (-29, -70) -> (-14, -70) projected
  line L76 (-29, -70) -> (-29, -79) projected
  arc A75 (-31, -81) -> (-29, -79) centre (-31, -79) ccw projected
  line L77 (-31, -81) -> (-55, -81) projected
  arc A76 (-57, -79) -> (-55, -81) centre (-55, -79) ccw projected
  line L78 (-57, -79) -> (-57, -70) projected
  line L79 (-72, -70) -> (-57, -70) projected
  line L80 (-89, -85) -> (-89, -99) projected
  line L81 (-89, -99) -> (89, -99) projected
  line L82 (89, -85) -> (89, -99) projected
  line L83 (-89, -85) -> (89, -85) projected
  circle A77 centre (72.95, 34.475) radius 1.45 projected
  circle A78 centre (72.95, 20.775) radius 1.45 projected
  circle A79 centre (39.125, 34.4125) radius 1.55 projected
  circle A80 centre (39.125, 20.8375) radius 1.55 projected
  spline S2 degree 3 poles (65.7, 23.025) (65.7, 22.8819) (65.6837, 22.6312) (65.6334, 22.3458) (65.5819, 22.1333) (65.5405, 21.9923) (65.48, 21.8179) (65.4239, 21.6792) (65.3456, 21.5106) (65.2769, 21.3802) (65.184, 21.2227) (65.1043, 21.1011) (64.9982, 20.9549) (64.9083, 20.8425) (64.7662, 20.6811) (64.615, 20.5299) (64.3941, 20.3423) (64.2146, 20.2128) (64.0241, 20.0935) (63.8917, 20.0193) (63.7367, 19.9424) (63.63, 19.8951) (63.5206, 19.8513) (63.4473, 19.8241) (63.3368, 19.7865) (63.2255, 19.7528) (63.02, 19.6999) (62.7939, 19.6576) (62.4526, 19.6224) (62.1474, 19.6224) (61.8061, 19.6576) (61.58, 19.6999) (61.3745, 19.7528) (61.2632, 19.7865) (61.1527, 19.8241) (61.0794, 19.8513) (60.97, 19.8951) (60.8633, 19.9424) (60.7083, 20.0193) (60.5759, 20.0935) (60.3854, 20.2128) (60.2059, 20.3423) (59.985, 20.5299) (59.8338, 20.6811) (59.6917, 20.8425) (59.6018, 20.9549) (59.4957, 21.1011) (59.416, 21.2227) (59.3231, 21.3802) (59.2544, 21.5106) (59.1761, 21.6792) (59.12, 21.8179) (59.0595, 21.9923) (59.0181, 22.1333) (58.9666, 22.3458) (58.9163, 22.6312) (58.9, 22.8819) (58.9, 23.025) knots 0.368505 0.368505 0.368505 0.368505 0.400174 0.423925 0.431842 0.447677 0.455594 0.471428 0.479345 0.49518 0.503097 0.518931 0.526849 0.542683 0.5506 0.574352 0.590186 0.613938 0.621855 0.637689 0.645607 0.657482 0.661441 0.669358 0.673317 0.685193 0.69311 0.716861 0.732696 0.764365 0.780199 0.803951 0.811868 0.823744 0.827702 0.835619 0.839578 0.851454 0.859371 0.875205 0.883123 0.906874 0.922709 0.94646 0.954377 0.970212 0.978129 0.993963 1.00188 1.017715 1.025632 1.041466 1.049384 1.065218 1.073135 1.096887 1.128556 1.128556 1.128556 1.128556 projected
  line L84 (58.9, 23.025) -> (58.9, 32.225) projected
  spline S3 degree 3 poles (58.9, 32.225) (58.9, 32.3681) (58.9163, 32.6188) (58.9666, 32.9042) (59.0181, 33.1167) (59.0595, 33.2577) (59.12, 33.4321) (59.1761, 33.5708) (59.2544, 33.7394) (59.3231, 33.8698) (59.416, 34.0273) (59.4957, 34.1489) (59.6018, 34.2951) (59.6917, 34.4075) (59.8338, 34.5689) (59.985, 34.7201) (60.2059, 34.9077) (60.3854, 35.0372) (60.5759, 35.1565) (60.7083, 35.2307) (60.8633, 35.3076) (60.97, 35.3549) (61.0794, 35.3987) (61.1527, 35.4259) (61.2632, 35.4635) (61.3745, 35.4972) (61.58, 35.5501) (61.8061, 35.5924) (62.1474, 35.6276) (62.4526, 35.6276) (62.7939, 35.5924) (63.02, 35.5501) (63.2255, 35.4972) (63.3368, 35.4635) (63.4473, 35.4259) (63.5206, 35.3987) (63.63, 35.3549) (63.7367, 35.3076) (63.8917, 35.2307) (64.0241, 35.1565) (64.2146, 35.0372) (64.3941, 34.9077) (64.615, 34.7201) (64.7662, 34.5689) (64.9083, 34.4075) (64.9982, 34.2951) (65.1043, 34.1489) (65.184, 34.0273) (65.2769, 33.8698) (65.3456, 33.7394) (65.4239, 33.5708) (65.48, 33.4321) (65.5405, 33.2577) (65.5819, 33.1167) (65.6334, 32.9042) (65.6837, 32.6188) (65.7, 32.3681) (65.7, 32.225) knots -0.380025 -0.380025 -0.380025 -0.380025 -0.348357 -0.324605 -0.316688 -0.300853 -0.292936 -0.277102 -0.269185 -0.25335 -0.245433 -0.229599 -0.221682 -0.205847 -0.19793 -0.174178 -0.158344 -0.134592 -0.126675 -0.110841 -0.102924 -0.091048 -0.087089 -0.079172 -0.075213 -0.063338 -0.05542 -0.031669 -0.015834 0.015834 0.031669 0.05542 0.063338 0.075213 0.079172 0.087089 0.091048 0.102924 0.110841 0.126675 0.134592 0.158344 0.174178 0.19793 0.205847 0.221682 0.229599 0.245433 0.25335 0.269185 0.277102 0.292936 0.300853 0.316688 0.324605 0.348357 0.380025 0.380025 0.380025 0.380025 projected
  line L85 (65.7, 32.225) -> (65.7, 23.025) projected
  line L86 (27.2, 42) -> (86, 42) projected
  line L87 (27.2, 13.25) -> (27.2, 42) projected
  line L88 (27.2, 13.25) -> (86, 13.25) projected
  line L89 (86, 42) -> (86, 13.25) projected
  circle A81 centre (-72.95, 34.475) radius 1.45 projected
  circle A82 centre (-72.95, 20.775) radius 1.45 projected
  circle A83 centre (-39.125, 34.4125) radius 1.55 projected
  circle A84 centre (-39.125, 20.8375) radius 1.55 projected
  spline S4 degree 3 poles (-65.7, 23.025) (-65.7, 22.8819) (-65.6837, 22.6312) (-65.6334, 22.3458) (-65.5819, 22.1333) (-65.5405, 21.9923) (-65.48, 21.8179) (-65.4239, 21.6792) (-65.3456, 21.5106) (-65.2769, 21.3802) (-65.184, 21.2227) (-65.1043, 21.1011) (-64.9982, 20.9549) (-64.9083, 20.8425) (-64.7662, 20.6811) (-64.615, 20.5299) (-64.3941, 20.3423) (-64.2146, 20.2128) (-64.0241, 20.0935) (-63.8917, 20.0193) (-63.7367, 19.9424) (-63.63, 19.8951) (-63.5206, 19.8513) (-63.4473, 19.8241) (-63.3368, 19.7865) (-63.2255, 19.7528) (-63.02, 19.6999) (-62.7939, 19.6576) (-62.4526, 19.6224) (-62.1474, 19.6224) (-61.8061, 19.6576) (-61.58, 19.6999) (-61.3745, 19.7528) (-61.2632, 19.7865) (-61.1527, 19.8241) (-61.0794, 19.8513) (-60.97, 19.8951) (-60.8633, 19.9424) (-60.7083, 20.0193) (-60.5759, 20.0935) (-60.3854, 20.2128) (-60.2059, 20.3423) (-59.985, 20.5299) (-59.8338, 20.6811) (-59.6917, 20.8425) (-59.6018, 20.9549) (-59.4957, 21.1011) (-59.416, 21.2227) (-59.3231, 21.3802) (-59.2544, 21.5106) (-59.1761, 21.6792) (-59.12, 21.8179) (-59.0595, 21.9923) (-59.0181, 22.1333) (-58.9666, 22.3458) (-58.9163, 22.6312) (-58.9, 22.8819) (-58.9, 23.025) knots 0.368505 0.368505 0.368505 0.368505 0.400174 0.423925 0.431842 0.447677 0.455594 0.471428 0.479345 0.49518 0.503097 0.518931 0.526849 0.542683 0.5506 0.574352 0.590186 0.613938 0.621855 0.637689 0.645607 0.657482 0.661441 0.669358 0.673317 0.685193 0.69311 0.716861 0.732696 0.764365 0.780199 0.803951 0.811868 0.823744 0.827702 0.835619 0.839578 0.851454 0.859371 0.875205 0.883123 0.906874 0.922709 0.94646 0.954377 0.970212 0.978129 0.993963 1.00188 1.017715 1.025632 1.041466 1.049384 1.065218 1.073135 1.096887 1.128556 1.128556 1.128556 1.128556 projected
  line L90 (-65.7, 32.225) -> (-65.7, 23.025) projected
  spline S5 degree 3 poles (-58.9, 32.225) (-58.9, 32.3681) (-58.9163, 32.6188) (-58.9666, 32.9042) (-59.0181, 33.1167) (-59.0595, 33.2577) (-59.12, 33.4321) (-59.1761, 33.5708) (-59.2544, 33.7394) (-59.3231, 33.8698) (-59.416, 34.0273) (-59.4957, 34.1489) (-59.6018, 34.2951) (-59.6917, 34.4075) (-59.8338, 34.5689) (-59.985, 34.7201) (-60.2059, 34.9077) (-60.3854, 35.0372) (-60.5759, 35.1565) (-60.7083, 35.2307) (-60.8633, 35.3076) (-60.97, 35.3549) (-61.0794, 35.3987) (-61.1527, 35.4259) (-61.2632, 35.4635) (-61.3745, 35.4972) (-61.58, 35.5501) (-61.8061, 35.5924) (-62.1474, 35.6276) (-62.4526, 35.6276) (-62.7939, 35.5924) (-63.02, 35.5501) (-63.2255, 35.4972) (-63.3368, 35.4635) (-63.4473, 35.4259) (-63.5206, 35.3987) (-63.63, 35.3549) (-63.7367, 35.3076) (-63.8917, 35.2307) (-64.0241, 35.1565) (-64.2146, 35.0372) (-64.3941, 34.9077) (-64.615, 34.7201) (-64.7662, 34.5689) (-64.9083, 34.4075) (-64.9982, 34.2951) (-65.1043, 34.1489) (-65.184, 34.0273) (-65.2769, 33.8698) (-65.3456, 33.7394) (-65.4239, 33.5708) (-65.48, 33.4321) (-65.5405, 33.2577) (-65.5819, 33.1167) (-65.6334, 32.9042) (-65.6837, 32.6188) (-65.7, 32.3681) (-65.7, 32.225) knots -0.380025 -0.380025 -0.380025 -0.380025 -0.348357 -0.324605 -0.316688 -0.300853 -0.292936 -0.277102 -0.269185 -0.25335 -0.245433 -0.229599 -0.221682 -0.205847 -0.19793 -0.174178 -0.158344 -0.134592 -0.126675 -0.110841 -0.102924 -0.091048 -0.087089 -0.079172 -0.075213 -0.063338 -0.05542 -0.031669 -0.015834 0.015834 0.031669 0.05542 0.063338 0.075213 0.079172 0.087089 0.091048 0.102924 0.110841 0.126675 0.134592 0.158344 0.174178 0.19793 0.205847 0.221682 0.229599 0.245433 0.25335 0.269185 0.277102 0.292936 0.300853 0.316688 0.324605 0.348357 0.380025 0.380025 0.380025 0.380025 projected
  line L91 (-58.9, 23.025) -> (-58.9, 32.225) projected
  line L92 (-27.2, 42) -> (-86, 42) projected
  line L93 (-86, 42) -> (-86, 13.25) projected
  line L94 (-27.2, 13.25) -> (-86, 13.25) projected
  line L95 (-27.2, 13.25) -> (-27.2, 42) projected
  line L96 (-22.5, 14.25) -> (22.5, 14.25) projected
  line L97 (22.5, 14.25) -> (22.5, 13.25) projected
  line L98 (-22.5, 13.25) -> (22.5, 13.25) projected
  line L99 (-22.5, 14.25) -> (-22.5, 13.25) projected
  line L100 (-27.2, 13.25) -> (-27.2, 42) projected
  line L101 (-27.2, 13.25) -> (-22.7, 13.25) projected
  line L102 (-22.7, 13.25) -> (-22.7, 42) projected
  line L103 (-27.2, 42) -> (-22.7, 42) projected
  line L104 (27.2, 13.25) -> (27.2, 42) projected
  line L105 (27.2, 42) -> (22.7, 42) projected
  line L106 (22.7, 13.25) -> (22.7, 42) projected
  line L107 (27.2, 13.25) -> (22.7, 13.25) projected
  line L108 (-77.0142, -3.75) -> (-9.0142, -3.75) projected
  line L109 (-9.0142, -3.75) -> (-9.0142, 11.25) projected
  line L110 (-9.0142, 11.25) -> (-77.0142, 11.25) projected
  line L111 (-77.0142, 11.25) -> (-77.0142, -3.75) projected
  line L112 (77.6433, -8.75) -> (11.6433, -8.75) projected
  line L113 (77.6433, 11.25) -> (77.6433, -8.75) projected
  line L114 (11.6433, 11.25) -> (77.6433, 11.25) projected
  line L115 (11.6433, -8.75) -> (11.6433, 11.25) projected
  line L116 (-74, -85) -> (74, -85)
  line L117 (74, -85) -> (74, -70)
  line L118 (-74, -70) -> (-74, -85)
  line L119 (-89, -64) -> (-74, -64)
  line L120 (-74, -64) -> (-74, 42)
  line L121 (-74, 42) -> (-89, 42)
  line L122 (-89, 42) -> (-89, -64)
  line L123 (89, 42) -> (89, -64) projected
  line L124 (89, -64) -> (74, -64)
  line L125 (74, -64) -> (74, 42)
  line L126 (74, 42) -> (89, 42)
  line L127 (89, 42) -> (89, -64)
  line L128 (-74, 13.25) -> (74, 13.25)
  line L129 (0, -102.1989) -> (-74, 13.25) construction
  line L130 (0, -102.1989) -> (74, 13.25) construction
  line L131 (-15.1814, -85) -> (-74, 6.7642)
  line L132 (15.1814, -85) -> (74, 6.7642)
  line L133 (0, -95.7131) -> (69.8427, 13.25)
  line L134 (0, -95.7131) -> (-69.8427, 13.25)
  line L135 (0, 13.25) -> (0, -95.7131) construction
  line L136 (5, -87.9125) -> (5, 3.25)
  line L137 (-5, 3.25) -> (-5, -87.9125)
  line L138 (-5, 3.25) -> (-15, 13.25)
  line L139 (5, 3.25) -> (15, 13.25)
  circle A85 centre (-42.5, -36.1649) radius 1.2295 projected
  line L140 (-86, 27.625) -> (-22.7, 27.625)
  circle A86 centre (-62.3, 27.625) radius 8
  circle A87 centre (-49.775, 27.625) radius 8
  line L141 (-62.3, 35.625) -> (-49.775, 35.625)
  line L142 (-49.775, 19.625) -> (-62.3, 19.625)
  line L143 (0, 57.55) -> (0, 27.625) construction
  line L144 (27.2, 27.625) -> (86, 27.625)
  circle A88 centre (62.3, 27.625) radius 8
  circle A89 centre (49.775, 27.625) radius 8
  line L145 (62.3, 35.625) -> (49.775, 35.625)
  line L146 (49.775, 19.625) -> (62.3, 19.625)
  line L147 (-57, -70) -> (-74, -53)
  line L148 (57, -70) -> (74, -53)
  point P0 (-9.0142, 8.7685)
  point P1 (11.6433, 8.7685)
  point P2 (11.6433, 9.8933)
  point P3 (74, -42.9318)
  point P4 (-74, -42.9318)
  point P5 (27.5, -65.7814)
  point P6 (-27.5, -65.7814)
  point P7 (-69.8427, 13.25)
  point P8 (-86, 17.2565)
  point P9 (-86, 15.2435)
  point P10 (-86, 40.0065)
  point P11 (-86, 37.9935)
  point P12 (-74, 33.475)
  point P13 (-74, 35.475)
  point P14 (-74, 19.775)
  point P15 (-74, 21.775)
  point P16 (86, 37.9935)
  point P17 (86, 40.0065)
  point P18 (86, 15.2435)
  point P19 (86, 17.2565)
  point P20 (74, 21.775)
  point P21 (74, 19.775)
  point P22 (74, 35.475)
  point P23 (74, 33.475)
  point P24 (26.078, -68)
  point P25 (-26.078, -68)
  point P26 (-27.5, -52.8097)
  point P27 (-17.7634, -68)
  point P28 (17.7634, -68)
  point P29 (27.5, -52.8097)
  point P30 (5, -13)
  point P31 (-5, -13)
  point P32 (-24.796, -70)
  point P33 (24.796, -70)
  point P34 (-5, -68)
  point P35 (5, -68)
  point P36 (5, -81)
  point P37 (9.4307, -81)
  point P38 (-5, -81)
  point P39 (-9.4307, -81)
  dimension "d146" = 15
  dimension "d147" = 15
  dimension "d151" = 3.5
  dimension "d152" = 7
  dimension "d153" = 7
  dimension "d154" = 3.5
  dimension "d167" = 5
  dimension "d169" = 10
  dimension "d170" = 45
  dimension "d171" = 45
  dimension "d183" = 14.375
  dimension "d184" = 14.375
  dimension "d185" = 3.4
  dimension "d186" = 3.4
  dimension "d188" = 10.65
  dimension "d189" = 10.65
  dimension "d190" = 3.4
  dimension "d191" = 3.4
  dimension "d192" = 10.65
  dimension "d193" = 10.65
  dimension "d204" = 10
  dimension "d205" = 10
  dimension "d206" = 45
  dimension "d207" = 45
extrude "Extrusion5" [suppressed]
equation "\"d11\" = d13"
properties part number "base" material "Aluminum 6061"
